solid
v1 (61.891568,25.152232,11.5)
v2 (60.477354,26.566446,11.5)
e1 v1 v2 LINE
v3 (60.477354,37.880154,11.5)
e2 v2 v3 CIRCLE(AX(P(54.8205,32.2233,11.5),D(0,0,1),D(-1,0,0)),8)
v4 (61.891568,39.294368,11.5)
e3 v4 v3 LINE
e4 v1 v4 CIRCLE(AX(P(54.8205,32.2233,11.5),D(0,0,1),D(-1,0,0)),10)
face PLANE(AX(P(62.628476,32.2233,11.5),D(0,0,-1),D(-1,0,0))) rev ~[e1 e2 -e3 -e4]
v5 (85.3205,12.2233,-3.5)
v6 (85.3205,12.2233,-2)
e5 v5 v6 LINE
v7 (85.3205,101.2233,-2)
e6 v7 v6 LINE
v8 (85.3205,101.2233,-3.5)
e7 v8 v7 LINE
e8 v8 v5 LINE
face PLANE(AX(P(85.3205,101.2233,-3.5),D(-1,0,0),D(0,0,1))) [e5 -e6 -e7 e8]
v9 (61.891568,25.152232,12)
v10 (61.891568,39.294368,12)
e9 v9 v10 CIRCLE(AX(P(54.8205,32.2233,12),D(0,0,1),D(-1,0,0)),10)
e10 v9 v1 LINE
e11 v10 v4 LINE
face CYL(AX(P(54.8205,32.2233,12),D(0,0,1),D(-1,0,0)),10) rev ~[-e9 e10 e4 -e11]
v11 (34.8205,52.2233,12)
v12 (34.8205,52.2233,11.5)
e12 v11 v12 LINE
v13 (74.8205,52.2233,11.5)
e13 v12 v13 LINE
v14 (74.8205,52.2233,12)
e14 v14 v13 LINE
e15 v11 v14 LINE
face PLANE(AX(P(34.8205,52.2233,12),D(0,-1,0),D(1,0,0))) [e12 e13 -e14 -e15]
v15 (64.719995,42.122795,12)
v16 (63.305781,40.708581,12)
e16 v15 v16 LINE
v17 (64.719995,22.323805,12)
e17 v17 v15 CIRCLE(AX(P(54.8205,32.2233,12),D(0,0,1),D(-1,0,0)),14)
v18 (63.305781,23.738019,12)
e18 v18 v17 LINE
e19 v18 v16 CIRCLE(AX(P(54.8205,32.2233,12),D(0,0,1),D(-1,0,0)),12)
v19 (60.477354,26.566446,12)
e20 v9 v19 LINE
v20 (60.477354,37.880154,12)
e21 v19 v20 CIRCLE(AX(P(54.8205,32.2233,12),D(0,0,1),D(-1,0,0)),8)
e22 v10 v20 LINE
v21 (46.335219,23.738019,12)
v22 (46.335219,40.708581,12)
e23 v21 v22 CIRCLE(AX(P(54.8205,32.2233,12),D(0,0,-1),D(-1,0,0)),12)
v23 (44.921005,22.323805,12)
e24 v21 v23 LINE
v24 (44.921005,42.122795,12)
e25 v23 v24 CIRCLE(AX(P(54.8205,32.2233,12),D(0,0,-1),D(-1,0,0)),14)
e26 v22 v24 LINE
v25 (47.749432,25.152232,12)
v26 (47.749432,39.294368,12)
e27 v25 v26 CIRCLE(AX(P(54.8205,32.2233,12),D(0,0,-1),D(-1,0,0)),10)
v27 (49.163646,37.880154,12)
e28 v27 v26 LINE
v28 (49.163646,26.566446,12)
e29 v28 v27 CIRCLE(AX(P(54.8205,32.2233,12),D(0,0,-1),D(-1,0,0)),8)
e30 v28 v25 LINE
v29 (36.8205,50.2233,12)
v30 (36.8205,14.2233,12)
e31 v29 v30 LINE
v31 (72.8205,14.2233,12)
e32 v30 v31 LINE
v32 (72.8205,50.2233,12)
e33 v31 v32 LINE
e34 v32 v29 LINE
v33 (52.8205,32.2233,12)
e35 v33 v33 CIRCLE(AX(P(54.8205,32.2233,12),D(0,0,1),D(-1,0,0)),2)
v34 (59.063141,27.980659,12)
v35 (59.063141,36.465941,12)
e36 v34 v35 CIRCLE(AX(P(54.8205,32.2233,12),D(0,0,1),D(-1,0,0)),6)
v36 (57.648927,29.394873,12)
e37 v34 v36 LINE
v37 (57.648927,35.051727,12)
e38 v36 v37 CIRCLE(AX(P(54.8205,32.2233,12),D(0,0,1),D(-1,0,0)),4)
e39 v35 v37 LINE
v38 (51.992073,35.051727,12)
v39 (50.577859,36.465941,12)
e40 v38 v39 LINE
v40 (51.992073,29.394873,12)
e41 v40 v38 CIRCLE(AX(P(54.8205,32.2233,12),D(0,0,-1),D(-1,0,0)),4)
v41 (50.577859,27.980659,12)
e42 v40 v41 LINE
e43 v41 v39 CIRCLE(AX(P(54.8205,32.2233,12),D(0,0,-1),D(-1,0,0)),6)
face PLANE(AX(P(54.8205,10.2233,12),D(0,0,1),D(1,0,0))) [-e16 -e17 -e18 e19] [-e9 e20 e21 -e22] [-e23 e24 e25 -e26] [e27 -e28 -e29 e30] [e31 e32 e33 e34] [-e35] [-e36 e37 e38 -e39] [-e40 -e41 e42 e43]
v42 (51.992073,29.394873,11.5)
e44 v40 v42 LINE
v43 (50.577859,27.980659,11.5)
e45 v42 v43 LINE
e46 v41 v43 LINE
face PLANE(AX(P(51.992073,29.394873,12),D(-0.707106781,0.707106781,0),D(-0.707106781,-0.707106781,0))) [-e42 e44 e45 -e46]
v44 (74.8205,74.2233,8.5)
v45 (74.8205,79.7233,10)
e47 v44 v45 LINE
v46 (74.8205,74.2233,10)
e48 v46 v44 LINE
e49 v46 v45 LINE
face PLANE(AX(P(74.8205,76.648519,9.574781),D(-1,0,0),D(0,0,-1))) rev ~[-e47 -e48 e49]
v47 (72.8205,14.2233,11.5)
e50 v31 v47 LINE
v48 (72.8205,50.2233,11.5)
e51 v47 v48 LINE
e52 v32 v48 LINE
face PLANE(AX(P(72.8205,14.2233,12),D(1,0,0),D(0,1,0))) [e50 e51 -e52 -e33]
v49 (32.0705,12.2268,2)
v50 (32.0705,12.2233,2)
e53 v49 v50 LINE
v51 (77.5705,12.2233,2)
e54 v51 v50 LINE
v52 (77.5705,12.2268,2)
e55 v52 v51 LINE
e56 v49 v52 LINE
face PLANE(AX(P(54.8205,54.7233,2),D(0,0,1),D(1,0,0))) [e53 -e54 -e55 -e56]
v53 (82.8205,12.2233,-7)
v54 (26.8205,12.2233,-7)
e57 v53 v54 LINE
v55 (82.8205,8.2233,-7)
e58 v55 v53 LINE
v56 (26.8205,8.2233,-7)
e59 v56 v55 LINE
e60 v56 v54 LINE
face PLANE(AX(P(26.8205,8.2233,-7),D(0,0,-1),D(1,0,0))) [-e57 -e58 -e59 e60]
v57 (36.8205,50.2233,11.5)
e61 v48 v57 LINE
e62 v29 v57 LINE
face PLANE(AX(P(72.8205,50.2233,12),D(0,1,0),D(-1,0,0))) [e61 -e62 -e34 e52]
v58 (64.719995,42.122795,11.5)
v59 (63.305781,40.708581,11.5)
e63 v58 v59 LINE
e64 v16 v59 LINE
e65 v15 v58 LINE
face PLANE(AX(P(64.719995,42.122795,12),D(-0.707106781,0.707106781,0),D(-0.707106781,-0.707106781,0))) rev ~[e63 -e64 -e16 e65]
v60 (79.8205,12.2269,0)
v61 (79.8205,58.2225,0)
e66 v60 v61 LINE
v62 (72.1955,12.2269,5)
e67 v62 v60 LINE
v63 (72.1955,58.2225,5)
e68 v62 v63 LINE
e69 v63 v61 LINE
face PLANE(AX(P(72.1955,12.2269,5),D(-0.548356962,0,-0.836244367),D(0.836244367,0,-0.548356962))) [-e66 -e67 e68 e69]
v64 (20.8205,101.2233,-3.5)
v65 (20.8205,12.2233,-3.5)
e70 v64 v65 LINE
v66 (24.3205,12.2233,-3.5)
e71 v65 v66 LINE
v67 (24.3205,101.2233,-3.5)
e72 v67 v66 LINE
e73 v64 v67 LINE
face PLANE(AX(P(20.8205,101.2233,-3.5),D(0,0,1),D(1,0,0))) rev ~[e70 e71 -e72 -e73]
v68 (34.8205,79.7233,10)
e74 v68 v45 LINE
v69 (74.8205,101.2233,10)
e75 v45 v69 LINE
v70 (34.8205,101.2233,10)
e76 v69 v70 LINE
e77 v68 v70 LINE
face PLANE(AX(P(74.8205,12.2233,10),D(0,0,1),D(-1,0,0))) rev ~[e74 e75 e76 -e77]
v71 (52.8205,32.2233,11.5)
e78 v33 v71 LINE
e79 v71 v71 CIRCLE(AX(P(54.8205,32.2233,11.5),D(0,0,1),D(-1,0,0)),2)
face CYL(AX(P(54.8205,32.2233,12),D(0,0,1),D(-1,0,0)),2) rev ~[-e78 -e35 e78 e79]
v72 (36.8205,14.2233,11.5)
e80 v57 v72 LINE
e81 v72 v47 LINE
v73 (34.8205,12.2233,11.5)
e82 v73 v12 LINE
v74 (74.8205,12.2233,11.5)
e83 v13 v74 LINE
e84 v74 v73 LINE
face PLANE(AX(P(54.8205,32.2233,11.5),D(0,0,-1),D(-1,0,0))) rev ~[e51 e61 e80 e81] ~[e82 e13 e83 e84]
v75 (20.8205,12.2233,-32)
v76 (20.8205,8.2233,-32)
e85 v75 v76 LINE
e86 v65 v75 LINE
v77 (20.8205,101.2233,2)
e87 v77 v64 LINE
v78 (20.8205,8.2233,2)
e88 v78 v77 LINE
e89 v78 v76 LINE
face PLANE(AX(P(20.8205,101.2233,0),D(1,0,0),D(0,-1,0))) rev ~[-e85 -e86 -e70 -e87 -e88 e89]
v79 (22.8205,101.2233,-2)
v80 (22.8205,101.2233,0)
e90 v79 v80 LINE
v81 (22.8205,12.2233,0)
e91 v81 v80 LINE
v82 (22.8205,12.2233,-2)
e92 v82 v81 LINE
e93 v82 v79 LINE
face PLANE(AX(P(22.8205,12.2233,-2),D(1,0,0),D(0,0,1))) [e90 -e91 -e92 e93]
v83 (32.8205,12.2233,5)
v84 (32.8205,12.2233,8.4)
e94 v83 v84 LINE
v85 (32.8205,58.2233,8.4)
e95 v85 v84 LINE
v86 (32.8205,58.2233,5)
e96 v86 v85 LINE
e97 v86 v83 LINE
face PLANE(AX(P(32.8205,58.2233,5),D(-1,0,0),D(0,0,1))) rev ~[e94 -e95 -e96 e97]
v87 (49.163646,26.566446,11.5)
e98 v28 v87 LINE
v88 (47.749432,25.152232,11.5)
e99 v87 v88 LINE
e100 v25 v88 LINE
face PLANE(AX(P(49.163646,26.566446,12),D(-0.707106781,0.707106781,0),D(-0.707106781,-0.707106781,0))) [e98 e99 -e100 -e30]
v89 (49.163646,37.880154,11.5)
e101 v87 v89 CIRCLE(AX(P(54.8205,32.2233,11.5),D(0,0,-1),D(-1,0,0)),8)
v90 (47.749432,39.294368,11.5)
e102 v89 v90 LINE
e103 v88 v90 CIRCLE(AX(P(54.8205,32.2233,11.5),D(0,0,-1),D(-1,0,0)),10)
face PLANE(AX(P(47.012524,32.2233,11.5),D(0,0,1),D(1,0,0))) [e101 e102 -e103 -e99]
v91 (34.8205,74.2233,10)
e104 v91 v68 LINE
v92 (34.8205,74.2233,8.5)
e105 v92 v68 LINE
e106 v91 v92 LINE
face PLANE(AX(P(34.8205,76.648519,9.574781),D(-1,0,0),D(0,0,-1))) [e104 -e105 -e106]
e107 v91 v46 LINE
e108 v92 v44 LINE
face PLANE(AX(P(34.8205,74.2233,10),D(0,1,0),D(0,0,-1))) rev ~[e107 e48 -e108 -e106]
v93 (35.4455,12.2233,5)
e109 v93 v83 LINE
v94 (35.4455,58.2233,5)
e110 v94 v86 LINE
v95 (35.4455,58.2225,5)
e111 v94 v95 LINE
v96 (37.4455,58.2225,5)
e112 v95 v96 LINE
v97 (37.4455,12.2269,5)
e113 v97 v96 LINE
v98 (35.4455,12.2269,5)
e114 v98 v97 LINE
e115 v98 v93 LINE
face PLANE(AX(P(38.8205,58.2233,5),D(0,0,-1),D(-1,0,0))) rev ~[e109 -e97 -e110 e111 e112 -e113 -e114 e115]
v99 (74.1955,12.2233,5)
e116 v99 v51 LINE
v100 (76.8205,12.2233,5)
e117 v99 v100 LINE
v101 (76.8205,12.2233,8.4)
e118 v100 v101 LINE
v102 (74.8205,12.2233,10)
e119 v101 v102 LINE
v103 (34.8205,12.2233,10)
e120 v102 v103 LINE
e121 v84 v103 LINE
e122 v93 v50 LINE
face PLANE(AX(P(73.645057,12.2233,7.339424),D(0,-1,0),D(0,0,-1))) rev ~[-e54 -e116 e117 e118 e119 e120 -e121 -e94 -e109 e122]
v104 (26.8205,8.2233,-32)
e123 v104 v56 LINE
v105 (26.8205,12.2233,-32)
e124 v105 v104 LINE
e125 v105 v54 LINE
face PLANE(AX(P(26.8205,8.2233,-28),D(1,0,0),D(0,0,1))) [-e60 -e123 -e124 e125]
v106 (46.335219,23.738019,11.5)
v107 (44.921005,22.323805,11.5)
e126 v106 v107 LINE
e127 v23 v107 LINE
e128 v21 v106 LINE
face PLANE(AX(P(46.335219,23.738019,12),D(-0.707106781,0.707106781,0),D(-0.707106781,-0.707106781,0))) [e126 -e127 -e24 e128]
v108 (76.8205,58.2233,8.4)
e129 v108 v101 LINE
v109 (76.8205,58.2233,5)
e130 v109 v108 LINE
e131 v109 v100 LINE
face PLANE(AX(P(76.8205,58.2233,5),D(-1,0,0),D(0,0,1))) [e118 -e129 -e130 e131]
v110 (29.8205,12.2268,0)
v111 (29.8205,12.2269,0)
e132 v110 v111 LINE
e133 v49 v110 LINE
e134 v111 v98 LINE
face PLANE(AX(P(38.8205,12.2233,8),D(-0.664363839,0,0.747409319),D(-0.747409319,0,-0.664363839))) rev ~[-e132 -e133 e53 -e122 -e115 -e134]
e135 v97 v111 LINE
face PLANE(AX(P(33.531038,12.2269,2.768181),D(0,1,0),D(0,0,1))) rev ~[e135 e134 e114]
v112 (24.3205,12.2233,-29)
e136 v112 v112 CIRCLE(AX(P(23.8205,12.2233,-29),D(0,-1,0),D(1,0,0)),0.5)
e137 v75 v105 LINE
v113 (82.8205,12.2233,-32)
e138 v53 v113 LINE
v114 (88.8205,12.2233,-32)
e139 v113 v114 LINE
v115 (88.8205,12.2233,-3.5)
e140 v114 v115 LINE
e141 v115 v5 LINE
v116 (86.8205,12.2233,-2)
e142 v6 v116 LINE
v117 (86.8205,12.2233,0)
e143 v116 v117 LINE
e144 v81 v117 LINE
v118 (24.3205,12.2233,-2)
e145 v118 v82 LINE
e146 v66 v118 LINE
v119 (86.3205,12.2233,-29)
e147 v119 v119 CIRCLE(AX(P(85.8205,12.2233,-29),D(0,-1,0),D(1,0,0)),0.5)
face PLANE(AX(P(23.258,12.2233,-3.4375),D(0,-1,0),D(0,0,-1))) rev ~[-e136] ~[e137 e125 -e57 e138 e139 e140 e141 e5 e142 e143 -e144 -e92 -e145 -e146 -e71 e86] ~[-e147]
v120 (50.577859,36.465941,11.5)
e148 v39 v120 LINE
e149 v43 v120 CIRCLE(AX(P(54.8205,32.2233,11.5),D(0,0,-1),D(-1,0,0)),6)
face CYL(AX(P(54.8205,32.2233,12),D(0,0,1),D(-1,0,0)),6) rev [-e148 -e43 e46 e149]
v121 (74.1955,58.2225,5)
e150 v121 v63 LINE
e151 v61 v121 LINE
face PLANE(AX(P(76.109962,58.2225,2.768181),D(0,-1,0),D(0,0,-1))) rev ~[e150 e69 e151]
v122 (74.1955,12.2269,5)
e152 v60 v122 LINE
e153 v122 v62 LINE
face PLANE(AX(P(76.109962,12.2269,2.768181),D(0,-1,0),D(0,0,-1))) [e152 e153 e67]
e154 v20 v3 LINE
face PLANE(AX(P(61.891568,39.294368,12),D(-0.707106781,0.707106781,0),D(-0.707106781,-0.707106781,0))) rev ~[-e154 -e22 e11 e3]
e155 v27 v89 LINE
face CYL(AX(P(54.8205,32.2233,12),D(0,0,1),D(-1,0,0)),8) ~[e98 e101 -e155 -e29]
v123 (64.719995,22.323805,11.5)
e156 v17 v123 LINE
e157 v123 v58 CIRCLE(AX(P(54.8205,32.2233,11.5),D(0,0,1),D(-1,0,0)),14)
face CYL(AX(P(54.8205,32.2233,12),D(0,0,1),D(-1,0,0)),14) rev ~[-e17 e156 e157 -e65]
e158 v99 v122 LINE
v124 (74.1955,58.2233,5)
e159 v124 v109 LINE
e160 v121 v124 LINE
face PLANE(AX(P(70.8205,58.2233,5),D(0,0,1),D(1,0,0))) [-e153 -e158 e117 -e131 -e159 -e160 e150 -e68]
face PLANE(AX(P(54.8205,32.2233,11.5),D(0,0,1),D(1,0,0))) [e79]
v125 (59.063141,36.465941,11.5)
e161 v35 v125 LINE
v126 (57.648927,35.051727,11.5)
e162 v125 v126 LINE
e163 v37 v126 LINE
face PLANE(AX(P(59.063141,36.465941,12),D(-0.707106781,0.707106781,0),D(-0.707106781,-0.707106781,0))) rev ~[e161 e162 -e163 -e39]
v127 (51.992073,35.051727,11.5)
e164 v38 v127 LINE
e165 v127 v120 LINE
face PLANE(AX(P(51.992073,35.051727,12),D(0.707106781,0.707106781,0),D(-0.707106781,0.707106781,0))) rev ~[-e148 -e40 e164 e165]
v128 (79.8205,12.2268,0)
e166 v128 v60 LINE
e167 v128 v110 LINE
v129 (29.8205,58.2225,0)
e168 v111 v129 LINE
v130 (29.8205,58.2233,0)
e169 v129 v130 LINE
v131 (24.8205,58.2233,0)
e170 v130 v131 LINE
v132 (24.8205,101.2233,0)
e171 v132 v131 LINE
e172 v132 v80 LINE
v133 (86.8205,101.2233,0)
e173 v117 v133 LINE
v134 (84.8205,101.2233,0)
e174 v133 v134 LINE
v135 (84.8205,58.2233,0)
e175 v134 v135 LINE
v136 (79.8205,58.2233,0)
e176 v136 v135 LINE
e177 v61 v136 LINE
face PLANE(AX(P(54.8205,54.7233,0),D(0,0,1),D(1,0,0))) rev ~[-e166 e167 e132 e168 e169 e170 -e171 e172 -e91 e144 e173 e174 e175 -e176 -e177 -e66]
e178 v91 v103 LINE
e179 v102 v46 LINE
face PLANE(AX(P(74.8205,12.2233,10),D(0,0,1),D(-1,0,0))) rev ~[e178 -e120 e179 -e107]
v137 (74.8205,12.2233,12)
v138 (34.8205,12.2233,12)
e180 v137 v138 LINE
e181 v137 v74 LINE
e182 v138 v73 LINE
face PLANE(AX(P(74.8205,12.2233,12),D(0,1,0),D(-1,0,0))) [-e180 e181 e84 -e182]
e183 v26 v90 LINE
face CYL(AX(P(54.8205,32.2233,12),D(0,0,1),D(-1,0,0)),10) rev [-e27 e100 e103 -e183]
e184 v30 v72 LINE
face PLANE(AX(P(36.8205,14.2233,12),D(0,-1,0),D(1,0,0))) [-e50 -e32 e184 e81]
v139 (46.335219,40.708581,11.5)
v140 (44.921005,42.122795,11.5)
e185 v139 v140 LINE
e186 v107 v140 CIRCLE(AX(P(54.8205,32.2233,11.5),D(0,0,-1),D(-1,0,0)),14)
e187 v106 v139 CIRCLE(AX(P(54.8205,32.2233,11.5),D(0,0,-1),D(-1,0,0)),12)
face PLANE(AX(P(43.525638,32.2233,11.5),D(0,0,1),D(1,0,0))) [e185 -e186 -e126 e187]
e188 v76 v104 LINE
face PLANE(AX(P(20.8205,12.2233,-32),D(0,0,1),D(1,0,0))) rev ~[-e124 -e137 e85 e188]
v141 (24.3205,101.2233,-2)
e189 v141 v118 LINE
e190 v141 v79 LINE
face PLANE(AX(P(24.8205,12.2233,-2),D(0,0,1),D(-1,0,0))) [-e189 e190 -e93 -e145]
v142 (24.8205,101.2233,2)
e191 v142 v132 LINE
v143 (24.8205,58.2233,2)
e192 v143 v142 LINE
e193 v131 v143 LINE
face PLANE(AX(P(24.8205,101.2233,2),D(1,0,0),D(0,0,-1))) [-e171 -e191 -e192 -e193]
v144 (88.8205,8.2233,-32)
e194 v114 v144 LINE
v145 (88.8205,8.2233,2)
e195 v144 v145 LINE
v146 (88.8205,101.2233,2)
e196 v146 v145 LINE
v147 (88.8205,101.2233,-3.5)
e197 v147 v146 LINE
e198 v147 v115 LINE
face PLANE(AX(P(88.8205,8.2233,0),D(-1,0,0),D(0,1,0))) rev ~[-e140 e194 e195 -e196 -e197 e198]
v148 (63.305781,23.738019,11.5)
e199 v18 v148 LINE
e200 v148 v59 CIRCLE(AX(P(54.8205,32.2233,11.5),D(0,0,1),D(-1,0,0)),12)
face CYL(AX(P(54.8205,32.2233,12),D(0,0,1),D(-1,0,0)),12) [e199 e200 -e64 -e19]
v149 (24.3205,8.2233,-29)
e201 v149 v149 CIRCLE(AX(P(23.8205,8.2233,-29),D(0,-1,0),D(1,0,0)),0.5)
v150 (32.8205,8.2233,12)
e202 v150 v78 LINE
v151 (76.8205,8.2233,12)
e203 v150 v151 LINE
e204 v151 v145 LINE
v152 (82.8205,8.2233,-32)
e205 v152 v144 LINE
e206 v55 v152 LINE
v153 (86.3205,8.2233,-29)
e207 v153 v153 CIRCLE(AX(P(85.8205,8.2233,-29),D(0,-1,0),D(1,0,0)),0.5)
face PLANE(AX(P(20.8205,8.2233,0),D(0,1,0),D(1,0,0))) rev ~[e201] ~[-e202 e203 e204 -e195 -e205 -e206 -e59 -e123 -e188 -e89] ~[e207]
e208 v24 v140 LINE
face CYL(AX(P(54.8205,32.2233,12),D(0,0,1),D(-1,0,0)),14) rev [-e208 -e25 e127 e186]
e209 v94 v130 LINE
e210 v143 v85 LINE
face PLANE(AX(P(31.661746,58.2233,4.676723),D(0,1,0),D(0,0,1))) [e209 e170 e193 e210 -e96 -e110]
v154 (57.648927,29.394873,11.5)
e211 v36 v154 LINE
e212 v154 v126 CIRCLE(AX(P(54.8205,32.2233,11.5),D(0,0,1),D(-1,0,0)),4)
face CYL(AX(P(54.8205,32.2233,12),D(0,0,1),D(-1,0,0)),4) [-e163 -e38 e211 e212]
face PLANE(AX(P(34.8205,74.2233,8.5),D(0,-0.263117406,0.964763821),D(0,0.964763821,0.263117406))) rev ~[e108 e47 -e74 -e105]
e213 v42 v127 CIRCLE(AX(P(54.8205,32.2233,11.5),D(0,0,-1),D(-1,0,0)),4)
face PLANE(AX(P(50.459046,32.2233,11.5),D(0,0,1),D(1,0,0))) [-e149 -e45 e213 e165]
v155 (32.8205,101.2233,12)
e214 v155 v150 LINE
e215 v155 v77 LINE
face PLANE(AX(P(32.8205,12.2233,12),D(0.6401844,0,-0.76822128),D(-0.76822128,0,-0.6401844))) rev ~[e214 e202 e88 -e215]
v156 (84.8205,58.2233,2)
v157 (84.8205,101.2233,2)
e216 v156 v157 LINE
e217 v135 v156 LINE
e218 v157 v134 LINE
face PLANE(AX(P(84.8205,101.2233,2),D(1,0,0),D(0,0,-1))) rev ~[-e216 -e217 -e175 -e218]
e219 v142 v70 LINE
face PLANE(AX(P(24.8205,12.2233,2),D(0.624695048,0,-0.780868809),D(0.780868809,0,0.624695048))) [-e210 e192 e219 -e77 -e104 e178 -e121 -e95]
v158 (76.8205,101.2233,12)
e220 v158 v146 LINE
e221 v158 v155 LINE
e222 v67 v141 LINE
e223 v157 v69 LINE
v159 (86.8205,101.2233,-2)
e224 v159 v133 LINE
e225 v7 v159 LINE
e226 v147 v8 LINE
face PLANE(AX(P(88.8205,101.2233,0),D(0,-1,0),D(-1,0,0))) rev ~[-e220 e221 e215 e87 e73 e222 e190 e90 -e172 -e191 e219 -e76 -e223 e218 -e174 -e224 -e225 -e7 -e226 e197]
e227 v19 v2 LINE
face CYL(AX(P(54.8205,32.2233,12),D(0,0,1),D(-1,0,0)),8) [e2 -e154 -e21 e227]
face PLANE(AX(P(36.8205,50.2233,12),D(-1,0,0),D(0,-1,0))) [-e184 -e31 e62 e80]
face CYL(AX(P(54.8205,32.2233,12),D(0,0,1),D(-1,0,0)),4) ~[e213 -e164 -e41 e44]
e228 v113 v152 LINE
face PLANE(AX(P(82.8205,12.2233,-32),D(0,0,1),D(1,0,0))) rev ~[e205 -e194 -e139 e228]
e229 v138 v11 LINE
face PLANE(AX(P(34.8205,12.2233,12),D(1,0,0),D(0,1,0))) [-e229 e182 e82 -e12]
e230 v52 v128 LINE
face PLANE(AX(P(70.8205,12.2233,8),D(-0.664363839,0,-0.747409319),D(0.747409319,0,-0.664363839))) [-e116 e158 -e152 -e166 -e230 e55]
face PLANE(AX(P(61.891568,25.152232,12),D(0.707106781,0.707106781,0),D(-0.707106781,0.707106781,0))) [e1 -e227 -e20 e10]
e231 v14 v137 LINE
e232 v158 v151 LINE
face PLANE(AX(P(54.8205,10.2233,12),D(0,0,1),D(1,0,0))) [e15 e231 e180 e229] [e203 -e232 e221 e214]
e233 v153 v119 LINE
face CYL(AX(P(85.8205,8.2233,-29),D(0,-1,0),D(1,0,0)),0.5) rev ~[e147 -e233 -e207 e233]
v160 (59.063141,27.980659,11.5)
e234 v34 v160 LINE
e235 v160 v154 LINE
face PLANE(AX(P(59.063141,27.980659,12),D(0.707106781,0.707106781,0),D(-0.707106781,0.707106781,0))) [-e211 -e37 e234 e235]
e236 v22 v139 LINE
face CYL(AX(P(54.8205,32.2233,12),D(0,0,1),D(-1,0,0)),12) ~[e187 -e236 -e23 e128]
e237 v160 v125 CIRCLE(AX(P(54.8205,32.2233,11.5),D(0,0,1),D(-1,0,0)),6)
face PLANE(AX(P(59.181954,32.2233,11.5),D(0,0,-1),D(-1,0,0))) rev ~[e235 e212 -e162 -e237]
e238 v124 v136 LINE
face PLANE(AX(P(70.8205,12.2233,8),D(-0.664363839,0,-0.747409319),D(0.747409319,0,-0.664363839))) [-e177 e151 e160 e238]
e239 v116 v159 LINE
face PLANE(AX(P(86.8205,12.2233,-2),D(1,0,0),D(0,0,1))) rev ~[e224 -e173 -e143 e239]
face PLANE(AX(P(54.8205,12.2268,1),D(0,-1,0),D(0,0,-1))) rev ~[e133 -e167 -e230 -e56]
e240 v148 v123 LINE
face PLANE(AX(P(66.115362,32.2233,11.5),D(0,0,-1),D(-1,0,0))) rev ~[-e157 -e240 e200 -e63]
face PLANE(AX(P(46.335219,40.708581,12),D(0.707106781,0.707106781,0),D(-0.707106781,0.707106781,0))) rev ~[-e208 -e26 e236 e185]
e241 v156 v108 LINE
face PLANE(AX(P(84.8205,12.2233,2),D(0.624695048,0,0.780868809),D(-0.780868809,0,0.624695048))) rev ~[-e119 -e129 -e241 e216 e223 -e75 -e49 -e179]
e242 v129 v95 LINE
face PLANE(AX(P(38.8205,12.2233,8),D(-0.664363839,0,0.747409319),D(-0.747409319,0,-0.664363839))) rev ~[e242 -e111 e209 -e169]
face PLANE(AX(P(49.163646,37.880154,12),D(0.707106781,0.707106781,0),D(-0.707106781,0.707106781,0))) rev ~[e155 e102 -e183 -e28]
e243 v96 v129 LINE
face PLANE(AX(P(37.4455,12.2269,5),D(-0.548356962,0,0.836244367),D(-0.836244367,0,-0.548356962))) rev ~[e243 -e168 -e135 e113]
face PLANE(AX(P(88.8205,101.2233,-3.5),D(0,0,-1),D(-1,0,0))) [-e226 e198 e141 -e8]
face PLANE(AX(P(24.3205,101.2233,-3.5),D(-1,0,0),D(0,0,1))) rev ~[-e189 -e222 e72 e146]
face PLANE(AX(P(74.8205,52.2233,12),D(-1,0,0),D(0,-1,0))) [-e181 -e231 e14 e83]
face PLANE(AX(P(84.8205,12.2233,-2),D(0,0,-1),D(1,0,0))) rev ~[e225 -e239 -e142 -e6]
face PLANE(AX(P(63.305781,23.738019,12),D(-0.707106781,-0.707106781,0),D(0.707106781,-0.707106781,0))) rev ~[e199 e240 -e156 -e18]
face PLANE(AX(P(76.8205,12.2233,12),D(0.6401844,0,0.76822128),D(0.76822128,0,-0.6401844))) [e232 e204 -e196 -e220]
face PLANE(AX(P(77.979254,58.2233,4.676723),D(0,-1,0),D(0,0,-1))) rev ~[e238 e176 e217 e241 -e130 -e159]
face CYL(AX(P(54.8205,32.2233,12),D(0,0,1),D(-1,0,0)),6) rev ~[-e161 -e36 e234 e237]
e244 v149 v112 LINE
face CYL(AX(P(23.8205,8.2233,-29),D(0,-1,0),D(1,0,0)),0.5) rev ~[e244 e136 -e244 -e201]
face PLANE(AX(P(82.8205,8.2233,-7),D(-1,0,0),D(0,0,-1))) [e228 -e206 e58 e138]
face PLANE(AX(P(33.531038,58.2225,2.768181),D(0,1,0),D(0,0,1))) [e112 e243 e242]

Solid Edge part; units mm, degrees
sketch "Sketch1" plane through (0, 0, 0) normal (0, 0, 1) x (1, 0, 0)
  line L0 (20.8205, 8.2233) -> (88.8205, 8.2233)
  line L1 (88.8205, 8.2233) -> (88.8205, 101.2233)
  line L2 (88.8205, 101.2233) -> (20.8205, 101.2233)
  line L3 (20.8205, 101.2233) -> (20.8205, 8.2233)
extrude "Protrusion1" add sketch "Sketch1" along normal blind 2
sketch "Sketch2" plane through (54.8205, 54.7233, 0) normal (0, 0, -1) x (1, 0, 0)
  line L0 (-34, 46.5) -> (34, 46.5)
  line L1 (34, 46.5) -> (34, 42.5)
  line L2 (34, 42.5) -> (-34, 42.5)
  line L3 (-34, 42.5) -> (-34, 46.5)
extrude "Extrusionsausprägung_2" add sketch "Sketch2" along normal blind 32
sketch "Sketch3" plane through (54.8205, 12.2233, -16) normal (0, 1, 0) x (-1, 0, 0)
  line L0 (-34, 16) -> (-34, 12)
  line L1 (-34, 12) -> (-30, 12)
  line L2 (-30, 12) -> (-30, 14)
  line L3 (-30, 14) -> (-32, 14)
  line L4 (-32, 14) -> (-32, 16)
  line L5 (-32, 16) -> (-34, 16)
  line L6 (34, 12) -> (30, 12)
  line L7 (30, 12) -> (30, 14)
  line L8 (30, 14) -> (32, 14)
  line L9 (32, 14) -> (32, 16)
  line L10 (32, 16) -> (34, 16)
  line L11 (34, 16) -> (34, 12)
extrude "Extrusionsausprägung_3" add sketch "Sketch3" along normal blind 89
sketch "Sketch4" plane through (54.8205, 54.7233, 2) normal (0, 0, 1) x (-1, 0, 0)
  line L0 (34, 46.5) -> (-34, 46.5)
  line L1 (-34, 46.5) -> (-34, 42.5)
  line L2 (-34, 42.5) -> (34, 42.5)
  line L3 (34, 42.5) -> (34, 46.5)
extrude "Extrusionsausprägung_4" add sketch "Sketch4" along normal blind 10
sketch "Sketch5" plane through (54.8205, 12.2233, 7) normal (0, 1, 0) x (-1, 0, 0)
  line L0 (-22, 5) -> (-34, -5)
  line L1 (-34, -5) -> (-30, -5)
  line L2 (-30, -5) -> (-20, 3)
  line L3 (-20, 3) -> (20, 3)
  line L4 (30, -5) -> (20, 3)
  line L5 (34, -5) -> (30, -5)
  line L6 (22, 5) -> (34, -5)
  line L7 (22, 5) -> (20, 5)
  line L8 (20, 5) -> (-20, 5)
  line L9 (-22, 5) -> (-20, 5)
extrude "Protrusion2" add sketch "Sketch5" along normal up to vertex (89 mm away)
sketch "Sketch6" plane through (26.8205, 12.2233, 7) normal (0, 1, 0) x (-1, 0, 0)
  line L0 (6, 5) -> (-6, 5)
  line L1 (-6, 5) -> (6, -5)
  line L2 (6, 5) -> (6, -5)
  line L3 (-62, -5) -> (-62, 5)
  line L4 (-62, 5) -> (-50, 5)
  line L5 (-50, 5) -> (-62, -5)
extrude "Extrusionsausschnitt_1" cut sketch "Sketch6" against normal blind 15.0999
sketch "Sketch7" plane through (54.8205, 101.2233, 4) normal (0, 1, 0) x (-1, 0, 0)
  line L0 (30, -2) -> (30, -4)
  line L1 (-30, -4) -> (30, -4)
  line L2 (-30, -2) -> (-30, -4)
  line L3 (30, -2) -> (-30, -2)
extrude "Extrusionsausschnitt_2" cut sketch "Sketch7" against normal blind 88.9965
sketch "Sketch8" plane through (54.8205, 12.2233, 6) normal (0, 1, 0) x (-1, 0, 0)
  line L0 (20, 4) -> (20, 2)
  line L1 (20, 2) -> (16, 2)
  line L2 (16, 2) -> (25, -6)
  line L3 (25, -6) -> (30, -6)
  line L4 (30, -6) -> (30, -4)
  line L5 (30, -4) -> (20, 4)
  line L6 (-20, 4) -> (-20, 2)
  line L7 (-20, 2) -> (-16, 2)
  line L8 (-16, 2) -> (-25, -6)
  line L9 (-25, -6) -> (-30, -6)
  line L10 (-30, -6) -> (-30, -4)
  line L11 (-30, -4) -> (-20, 4)
extrude "Extrusionsausprägung_6" add sketch "Sketch8" along normal blind 46
sketch "Sketch9" plane through (34.8205, 35.2233, 9) normal (1, 0, 0) x (0, -1, 0)
  line L0 (-39, -1) -> (-44.5, -1)
  line L1 (-39, 0.5) -> (-44.5, -1)
  line L2 (-39, -1) -> (-39, 0.5)
extrude "Protrusion3" add sketch "Sketch9" along normal up to vertex (40 mm away)
sketch "Sketch10" plane through (20.8205, 54.7233, -15) normal (-1, 0, 0) x (0, -1, 0)
  line L0 (42.5, -17) -> (42.5, -13)
  line L1 (42.5, -13) -> (46.5, -13)
  line L2 (46.5, -13) -> (46.5, -17)
  line L3 (46.5, -17) -> (42.5, -17)
extrude "Extrusionsausschnitt_3" cut sketch "Sketch10" against normal blind 105.6963
sketch "Sketch11" plane through (54.8205, 8.2233, -8) normal (0, -1, 0) x (1, 0, 0)
  line L0 (-28, -20) -> (-28, -4)
  line L1 (28, -4) -> (-28, -4)
  line L2 (28, -20) -> (28, -4)
  line L3 (-28, -20) -> (28, -20)
extrude "Extrusionsausschnitt_4" cut sketch "Sketch11" against normal blind 79.8012
sketch "Sketch12" plane through (54.8205, 54.7233, 12) normal (0, 0, 1) x (-1, 0, 0)
  line L0 (20, 42.5) -> (20, 2.5)
  line L1 (20, 2.5) -> (-20, 2.5)
  line L2 (-20, 2.5) -> (-20, 42.5)
  line L3 (-20, 42.5) -> (20, 42.5)
  line L4 (-18, 40.5) -> (-18, 4.5)
  line L5 (-18, 4.5) -> (18, 4.5)
  line L6 (18, 4.5) -> (18, 40.5)
  line L7 (18, 40.5) -> (-18, 40.5)
extrude "Extrusionsausschnitt_5" cut sketch "Sketch12" against normal blind 0.5
sketch "Sketch13" plane through (54.8205, 12.2233, -14) normal (0, 1, 0) x (-1, 0, 0)
  line L0 (34, -18) -> (28, -18)
  line L1 (28, -18) -> (28, -14)
  line L2 (28, -14) -> (34, -14)
  line L3 (34, -14) -> (34, -18)
  line L4 (-28, -14) -> (-28, -18)
  line L5 (-28, -18) -> (-34, -18)
  line L6 (-34, -18) -> (-34, -14)
  line L7 (-34, -14) -> (-28, -14)
extrude "Protrusion4" add sketch "Sketch13" against normal blind 4
sketch "Sketch14" plane through (54.8205, 8.2233, -10) normal (0, -1, 0) x (1, 0, 0)
  circle A0 centre (-31, -19) radius 0.5
  circle A1 centre (31, -19) radius 0.5
extrude "Extrusionsausschnitt_6" cut sketch "Sketch14" against normal blind 44.3708
sketch "Sketch15" plane through (54.8205, 8.2233, -10) normal (0, -1, 0) x (1, 0, 0)
  line L0 (-28, -2) -> (-28, 3)
  line L1 (-28, 3) -> (28, 3)
  line L2 (28, 3) -> (28, -2)
  line L3 (28, -2) -> (-28, -2)
extrude "Extrusionsausschnitt_7" cut sketch "Sketch15" against normal blind 62.3591
sketch "Sketch16" plane through (31.8205, 58.2233, 5) normal (0, 1, 0) x (-1, 0, 0)
  line L0 (-7, 3) -> (-7, 0)
  line L1 (-7, 0) -> (-1, 0)
  line L2 (-1, 0) -> (-1, 3.4)
  line L3 (-1, 3.4) -> (-3, 5)
  line L4 (-3, 5) -> (-7, 5)
  line L5 (-7, 5) -> (-7, 3)
  line L6 (-39, 0) -> (-45, 0)
  line L7 (-45, 0) -> (-45, 3.4)
  line L8 (-45, 3.4) -> (-43, 5)
  line L9 (-43, 5) -> (-39, 5)
  line L10 (-39, 5) -> (-39, 0)
extrude "Cutout1" cut sketch "Sketch16" against normal up to vertex (46 mm away)
sketch "Sketch17" plane through (54.8205, 12.2269, 1) normal (0, 1, 0) x (1, 0, 0)
  line L0 (19.375, -4) -> (17.375, -4)
  line L1 (17.375, -4) -> (25, 1)
  line L2 (25, 1) -> (19.375, -4)
  line L3 (-19.375, -4) -> (-17.375, -4)
  line L4 (-17.375, -4) -> (-25, 1)
  line L5 (-25, 1) -> (-19.375, -4)
extrude "Protrusion5" add sketch "Sketch17" along normal blind 45.9956
sketch "Sketch18" plane through (54.8205, 101.2233, 4) normal (0, 1, 0) x (1, 0, 0)
  line L0 (-30, 6) -> (-30.5, 6)
  line L1 (-30.5, 7.5) -> (-30.5, 6)
  line L2 (-34, 7.5) -> (-30.5, 7.5)
  line L3 (-34, 8) -> (-34, 7.5)
  line L4 (-34, 8) -> (-30, 8)
  line L5 (-30, 6) -> (-30, 8)
  line L6 (34, 7.5) -> (30.5, 7.5)
  line L7 (30.5, 7.5) -> (30.5, 6)
  line L8 (30.5, 6) -> (30, 6)
  line L9 (30, 6) -> (30, 8)
  line L10 (30, 8) -> (34, 8)
  line L11 (34, 8) -> (34, 7.5)
extrude "Cutout2" cut sketch "Sketch18" against normal up to vertex (89 mm away)
sketch "Sketch19" plane through (54.8205, 32.2233, 12) normal (0, 0, 1) x (-1, 0, 0)
  circle A0 centre (0, 0) radius 2
  arc A1 (2.8284, 2.8284) -> (2.8284, -2.8284) centre (0, 0) cw
  line L0 (2.8284, -2.8284) -> (4.2426, -4.2426)
  arc A2 (4.2426, 4.2426) -> (4.2426, -4.2426) centre (0, 0) cw
  line L1 (2.8284, 2.8284) -> (4.2426, 4.2426)
  arc A3 (5.6569, 5.6569) -> (5.6569, -5.6569) centre (0, 0) cw
  line L2 (5.6569, -5.6569) -> (7.0711, -7.0711)
  arc A4 (7.0711, 7.0711) -> (7.0711, -7.0711) centre (0, 0) cw
  line L3 (5.6569, 5.6569) -> (7.0711, 7.0711)
  arc A5 (8.4853, 8.4853) -> (8.4853, -8.4853) centre (0, 0) cw
  line L4 (8.4853, -8.4853) -> (9.8995, -9.8995)
  arc A6 (9.8995, 9.8995) -> (9.8995, -9.8995) centre (0, 0) cw
  line L5 (8.4853, 8.4853) -> (9.8995, 9.8995)
  arc A7 (-2.8284, 2.8284) -> (-2.8284, -2.8284) centre (0, 0) ccw
  line L6 (-4.2426, -4.2426) -> (-2.8284, -2.8284)
  arc A8 (-4.2426, 4.2426) -> (-4.2426, -4.2426) centre (0, 0) ccw
  line L7 (-4.2426, 4.2426) -> (-2.8284, 2.8284)
  arc A9 (-5.6569, 5.6569) -> (-5.6569, -5.6569) centre (0, 0) ccw
  line L8 (-7.0711, -7.0711) -> (-5.6569, -5.6569)
  arc A10 (-7.0711, 7.0711) -> (-7.0711, -7.0711) centre (0, 0) ccw
  line L9 (-7.0711, 7.0711) -> (-5.6569, 5.6569)
  arc A11 (-8.4853, 8.4853) -> (-8.4853, -8.4853) centre (0, 0) ccw
  line L10 (-9.8995, -9.8995) -> (-8.4853, -8.4853)
  arc A12 (-9.8995, 9.8995) -> (-9.8995, -9.8995) centre (0, 0) ccw
  line L11 (-8.4853, 8.4853) -> (-9.8995, 9.8995)
extrude "Cutout3" cut sketch "Sketch19" against normal up to vertex (0.5 mm away)
